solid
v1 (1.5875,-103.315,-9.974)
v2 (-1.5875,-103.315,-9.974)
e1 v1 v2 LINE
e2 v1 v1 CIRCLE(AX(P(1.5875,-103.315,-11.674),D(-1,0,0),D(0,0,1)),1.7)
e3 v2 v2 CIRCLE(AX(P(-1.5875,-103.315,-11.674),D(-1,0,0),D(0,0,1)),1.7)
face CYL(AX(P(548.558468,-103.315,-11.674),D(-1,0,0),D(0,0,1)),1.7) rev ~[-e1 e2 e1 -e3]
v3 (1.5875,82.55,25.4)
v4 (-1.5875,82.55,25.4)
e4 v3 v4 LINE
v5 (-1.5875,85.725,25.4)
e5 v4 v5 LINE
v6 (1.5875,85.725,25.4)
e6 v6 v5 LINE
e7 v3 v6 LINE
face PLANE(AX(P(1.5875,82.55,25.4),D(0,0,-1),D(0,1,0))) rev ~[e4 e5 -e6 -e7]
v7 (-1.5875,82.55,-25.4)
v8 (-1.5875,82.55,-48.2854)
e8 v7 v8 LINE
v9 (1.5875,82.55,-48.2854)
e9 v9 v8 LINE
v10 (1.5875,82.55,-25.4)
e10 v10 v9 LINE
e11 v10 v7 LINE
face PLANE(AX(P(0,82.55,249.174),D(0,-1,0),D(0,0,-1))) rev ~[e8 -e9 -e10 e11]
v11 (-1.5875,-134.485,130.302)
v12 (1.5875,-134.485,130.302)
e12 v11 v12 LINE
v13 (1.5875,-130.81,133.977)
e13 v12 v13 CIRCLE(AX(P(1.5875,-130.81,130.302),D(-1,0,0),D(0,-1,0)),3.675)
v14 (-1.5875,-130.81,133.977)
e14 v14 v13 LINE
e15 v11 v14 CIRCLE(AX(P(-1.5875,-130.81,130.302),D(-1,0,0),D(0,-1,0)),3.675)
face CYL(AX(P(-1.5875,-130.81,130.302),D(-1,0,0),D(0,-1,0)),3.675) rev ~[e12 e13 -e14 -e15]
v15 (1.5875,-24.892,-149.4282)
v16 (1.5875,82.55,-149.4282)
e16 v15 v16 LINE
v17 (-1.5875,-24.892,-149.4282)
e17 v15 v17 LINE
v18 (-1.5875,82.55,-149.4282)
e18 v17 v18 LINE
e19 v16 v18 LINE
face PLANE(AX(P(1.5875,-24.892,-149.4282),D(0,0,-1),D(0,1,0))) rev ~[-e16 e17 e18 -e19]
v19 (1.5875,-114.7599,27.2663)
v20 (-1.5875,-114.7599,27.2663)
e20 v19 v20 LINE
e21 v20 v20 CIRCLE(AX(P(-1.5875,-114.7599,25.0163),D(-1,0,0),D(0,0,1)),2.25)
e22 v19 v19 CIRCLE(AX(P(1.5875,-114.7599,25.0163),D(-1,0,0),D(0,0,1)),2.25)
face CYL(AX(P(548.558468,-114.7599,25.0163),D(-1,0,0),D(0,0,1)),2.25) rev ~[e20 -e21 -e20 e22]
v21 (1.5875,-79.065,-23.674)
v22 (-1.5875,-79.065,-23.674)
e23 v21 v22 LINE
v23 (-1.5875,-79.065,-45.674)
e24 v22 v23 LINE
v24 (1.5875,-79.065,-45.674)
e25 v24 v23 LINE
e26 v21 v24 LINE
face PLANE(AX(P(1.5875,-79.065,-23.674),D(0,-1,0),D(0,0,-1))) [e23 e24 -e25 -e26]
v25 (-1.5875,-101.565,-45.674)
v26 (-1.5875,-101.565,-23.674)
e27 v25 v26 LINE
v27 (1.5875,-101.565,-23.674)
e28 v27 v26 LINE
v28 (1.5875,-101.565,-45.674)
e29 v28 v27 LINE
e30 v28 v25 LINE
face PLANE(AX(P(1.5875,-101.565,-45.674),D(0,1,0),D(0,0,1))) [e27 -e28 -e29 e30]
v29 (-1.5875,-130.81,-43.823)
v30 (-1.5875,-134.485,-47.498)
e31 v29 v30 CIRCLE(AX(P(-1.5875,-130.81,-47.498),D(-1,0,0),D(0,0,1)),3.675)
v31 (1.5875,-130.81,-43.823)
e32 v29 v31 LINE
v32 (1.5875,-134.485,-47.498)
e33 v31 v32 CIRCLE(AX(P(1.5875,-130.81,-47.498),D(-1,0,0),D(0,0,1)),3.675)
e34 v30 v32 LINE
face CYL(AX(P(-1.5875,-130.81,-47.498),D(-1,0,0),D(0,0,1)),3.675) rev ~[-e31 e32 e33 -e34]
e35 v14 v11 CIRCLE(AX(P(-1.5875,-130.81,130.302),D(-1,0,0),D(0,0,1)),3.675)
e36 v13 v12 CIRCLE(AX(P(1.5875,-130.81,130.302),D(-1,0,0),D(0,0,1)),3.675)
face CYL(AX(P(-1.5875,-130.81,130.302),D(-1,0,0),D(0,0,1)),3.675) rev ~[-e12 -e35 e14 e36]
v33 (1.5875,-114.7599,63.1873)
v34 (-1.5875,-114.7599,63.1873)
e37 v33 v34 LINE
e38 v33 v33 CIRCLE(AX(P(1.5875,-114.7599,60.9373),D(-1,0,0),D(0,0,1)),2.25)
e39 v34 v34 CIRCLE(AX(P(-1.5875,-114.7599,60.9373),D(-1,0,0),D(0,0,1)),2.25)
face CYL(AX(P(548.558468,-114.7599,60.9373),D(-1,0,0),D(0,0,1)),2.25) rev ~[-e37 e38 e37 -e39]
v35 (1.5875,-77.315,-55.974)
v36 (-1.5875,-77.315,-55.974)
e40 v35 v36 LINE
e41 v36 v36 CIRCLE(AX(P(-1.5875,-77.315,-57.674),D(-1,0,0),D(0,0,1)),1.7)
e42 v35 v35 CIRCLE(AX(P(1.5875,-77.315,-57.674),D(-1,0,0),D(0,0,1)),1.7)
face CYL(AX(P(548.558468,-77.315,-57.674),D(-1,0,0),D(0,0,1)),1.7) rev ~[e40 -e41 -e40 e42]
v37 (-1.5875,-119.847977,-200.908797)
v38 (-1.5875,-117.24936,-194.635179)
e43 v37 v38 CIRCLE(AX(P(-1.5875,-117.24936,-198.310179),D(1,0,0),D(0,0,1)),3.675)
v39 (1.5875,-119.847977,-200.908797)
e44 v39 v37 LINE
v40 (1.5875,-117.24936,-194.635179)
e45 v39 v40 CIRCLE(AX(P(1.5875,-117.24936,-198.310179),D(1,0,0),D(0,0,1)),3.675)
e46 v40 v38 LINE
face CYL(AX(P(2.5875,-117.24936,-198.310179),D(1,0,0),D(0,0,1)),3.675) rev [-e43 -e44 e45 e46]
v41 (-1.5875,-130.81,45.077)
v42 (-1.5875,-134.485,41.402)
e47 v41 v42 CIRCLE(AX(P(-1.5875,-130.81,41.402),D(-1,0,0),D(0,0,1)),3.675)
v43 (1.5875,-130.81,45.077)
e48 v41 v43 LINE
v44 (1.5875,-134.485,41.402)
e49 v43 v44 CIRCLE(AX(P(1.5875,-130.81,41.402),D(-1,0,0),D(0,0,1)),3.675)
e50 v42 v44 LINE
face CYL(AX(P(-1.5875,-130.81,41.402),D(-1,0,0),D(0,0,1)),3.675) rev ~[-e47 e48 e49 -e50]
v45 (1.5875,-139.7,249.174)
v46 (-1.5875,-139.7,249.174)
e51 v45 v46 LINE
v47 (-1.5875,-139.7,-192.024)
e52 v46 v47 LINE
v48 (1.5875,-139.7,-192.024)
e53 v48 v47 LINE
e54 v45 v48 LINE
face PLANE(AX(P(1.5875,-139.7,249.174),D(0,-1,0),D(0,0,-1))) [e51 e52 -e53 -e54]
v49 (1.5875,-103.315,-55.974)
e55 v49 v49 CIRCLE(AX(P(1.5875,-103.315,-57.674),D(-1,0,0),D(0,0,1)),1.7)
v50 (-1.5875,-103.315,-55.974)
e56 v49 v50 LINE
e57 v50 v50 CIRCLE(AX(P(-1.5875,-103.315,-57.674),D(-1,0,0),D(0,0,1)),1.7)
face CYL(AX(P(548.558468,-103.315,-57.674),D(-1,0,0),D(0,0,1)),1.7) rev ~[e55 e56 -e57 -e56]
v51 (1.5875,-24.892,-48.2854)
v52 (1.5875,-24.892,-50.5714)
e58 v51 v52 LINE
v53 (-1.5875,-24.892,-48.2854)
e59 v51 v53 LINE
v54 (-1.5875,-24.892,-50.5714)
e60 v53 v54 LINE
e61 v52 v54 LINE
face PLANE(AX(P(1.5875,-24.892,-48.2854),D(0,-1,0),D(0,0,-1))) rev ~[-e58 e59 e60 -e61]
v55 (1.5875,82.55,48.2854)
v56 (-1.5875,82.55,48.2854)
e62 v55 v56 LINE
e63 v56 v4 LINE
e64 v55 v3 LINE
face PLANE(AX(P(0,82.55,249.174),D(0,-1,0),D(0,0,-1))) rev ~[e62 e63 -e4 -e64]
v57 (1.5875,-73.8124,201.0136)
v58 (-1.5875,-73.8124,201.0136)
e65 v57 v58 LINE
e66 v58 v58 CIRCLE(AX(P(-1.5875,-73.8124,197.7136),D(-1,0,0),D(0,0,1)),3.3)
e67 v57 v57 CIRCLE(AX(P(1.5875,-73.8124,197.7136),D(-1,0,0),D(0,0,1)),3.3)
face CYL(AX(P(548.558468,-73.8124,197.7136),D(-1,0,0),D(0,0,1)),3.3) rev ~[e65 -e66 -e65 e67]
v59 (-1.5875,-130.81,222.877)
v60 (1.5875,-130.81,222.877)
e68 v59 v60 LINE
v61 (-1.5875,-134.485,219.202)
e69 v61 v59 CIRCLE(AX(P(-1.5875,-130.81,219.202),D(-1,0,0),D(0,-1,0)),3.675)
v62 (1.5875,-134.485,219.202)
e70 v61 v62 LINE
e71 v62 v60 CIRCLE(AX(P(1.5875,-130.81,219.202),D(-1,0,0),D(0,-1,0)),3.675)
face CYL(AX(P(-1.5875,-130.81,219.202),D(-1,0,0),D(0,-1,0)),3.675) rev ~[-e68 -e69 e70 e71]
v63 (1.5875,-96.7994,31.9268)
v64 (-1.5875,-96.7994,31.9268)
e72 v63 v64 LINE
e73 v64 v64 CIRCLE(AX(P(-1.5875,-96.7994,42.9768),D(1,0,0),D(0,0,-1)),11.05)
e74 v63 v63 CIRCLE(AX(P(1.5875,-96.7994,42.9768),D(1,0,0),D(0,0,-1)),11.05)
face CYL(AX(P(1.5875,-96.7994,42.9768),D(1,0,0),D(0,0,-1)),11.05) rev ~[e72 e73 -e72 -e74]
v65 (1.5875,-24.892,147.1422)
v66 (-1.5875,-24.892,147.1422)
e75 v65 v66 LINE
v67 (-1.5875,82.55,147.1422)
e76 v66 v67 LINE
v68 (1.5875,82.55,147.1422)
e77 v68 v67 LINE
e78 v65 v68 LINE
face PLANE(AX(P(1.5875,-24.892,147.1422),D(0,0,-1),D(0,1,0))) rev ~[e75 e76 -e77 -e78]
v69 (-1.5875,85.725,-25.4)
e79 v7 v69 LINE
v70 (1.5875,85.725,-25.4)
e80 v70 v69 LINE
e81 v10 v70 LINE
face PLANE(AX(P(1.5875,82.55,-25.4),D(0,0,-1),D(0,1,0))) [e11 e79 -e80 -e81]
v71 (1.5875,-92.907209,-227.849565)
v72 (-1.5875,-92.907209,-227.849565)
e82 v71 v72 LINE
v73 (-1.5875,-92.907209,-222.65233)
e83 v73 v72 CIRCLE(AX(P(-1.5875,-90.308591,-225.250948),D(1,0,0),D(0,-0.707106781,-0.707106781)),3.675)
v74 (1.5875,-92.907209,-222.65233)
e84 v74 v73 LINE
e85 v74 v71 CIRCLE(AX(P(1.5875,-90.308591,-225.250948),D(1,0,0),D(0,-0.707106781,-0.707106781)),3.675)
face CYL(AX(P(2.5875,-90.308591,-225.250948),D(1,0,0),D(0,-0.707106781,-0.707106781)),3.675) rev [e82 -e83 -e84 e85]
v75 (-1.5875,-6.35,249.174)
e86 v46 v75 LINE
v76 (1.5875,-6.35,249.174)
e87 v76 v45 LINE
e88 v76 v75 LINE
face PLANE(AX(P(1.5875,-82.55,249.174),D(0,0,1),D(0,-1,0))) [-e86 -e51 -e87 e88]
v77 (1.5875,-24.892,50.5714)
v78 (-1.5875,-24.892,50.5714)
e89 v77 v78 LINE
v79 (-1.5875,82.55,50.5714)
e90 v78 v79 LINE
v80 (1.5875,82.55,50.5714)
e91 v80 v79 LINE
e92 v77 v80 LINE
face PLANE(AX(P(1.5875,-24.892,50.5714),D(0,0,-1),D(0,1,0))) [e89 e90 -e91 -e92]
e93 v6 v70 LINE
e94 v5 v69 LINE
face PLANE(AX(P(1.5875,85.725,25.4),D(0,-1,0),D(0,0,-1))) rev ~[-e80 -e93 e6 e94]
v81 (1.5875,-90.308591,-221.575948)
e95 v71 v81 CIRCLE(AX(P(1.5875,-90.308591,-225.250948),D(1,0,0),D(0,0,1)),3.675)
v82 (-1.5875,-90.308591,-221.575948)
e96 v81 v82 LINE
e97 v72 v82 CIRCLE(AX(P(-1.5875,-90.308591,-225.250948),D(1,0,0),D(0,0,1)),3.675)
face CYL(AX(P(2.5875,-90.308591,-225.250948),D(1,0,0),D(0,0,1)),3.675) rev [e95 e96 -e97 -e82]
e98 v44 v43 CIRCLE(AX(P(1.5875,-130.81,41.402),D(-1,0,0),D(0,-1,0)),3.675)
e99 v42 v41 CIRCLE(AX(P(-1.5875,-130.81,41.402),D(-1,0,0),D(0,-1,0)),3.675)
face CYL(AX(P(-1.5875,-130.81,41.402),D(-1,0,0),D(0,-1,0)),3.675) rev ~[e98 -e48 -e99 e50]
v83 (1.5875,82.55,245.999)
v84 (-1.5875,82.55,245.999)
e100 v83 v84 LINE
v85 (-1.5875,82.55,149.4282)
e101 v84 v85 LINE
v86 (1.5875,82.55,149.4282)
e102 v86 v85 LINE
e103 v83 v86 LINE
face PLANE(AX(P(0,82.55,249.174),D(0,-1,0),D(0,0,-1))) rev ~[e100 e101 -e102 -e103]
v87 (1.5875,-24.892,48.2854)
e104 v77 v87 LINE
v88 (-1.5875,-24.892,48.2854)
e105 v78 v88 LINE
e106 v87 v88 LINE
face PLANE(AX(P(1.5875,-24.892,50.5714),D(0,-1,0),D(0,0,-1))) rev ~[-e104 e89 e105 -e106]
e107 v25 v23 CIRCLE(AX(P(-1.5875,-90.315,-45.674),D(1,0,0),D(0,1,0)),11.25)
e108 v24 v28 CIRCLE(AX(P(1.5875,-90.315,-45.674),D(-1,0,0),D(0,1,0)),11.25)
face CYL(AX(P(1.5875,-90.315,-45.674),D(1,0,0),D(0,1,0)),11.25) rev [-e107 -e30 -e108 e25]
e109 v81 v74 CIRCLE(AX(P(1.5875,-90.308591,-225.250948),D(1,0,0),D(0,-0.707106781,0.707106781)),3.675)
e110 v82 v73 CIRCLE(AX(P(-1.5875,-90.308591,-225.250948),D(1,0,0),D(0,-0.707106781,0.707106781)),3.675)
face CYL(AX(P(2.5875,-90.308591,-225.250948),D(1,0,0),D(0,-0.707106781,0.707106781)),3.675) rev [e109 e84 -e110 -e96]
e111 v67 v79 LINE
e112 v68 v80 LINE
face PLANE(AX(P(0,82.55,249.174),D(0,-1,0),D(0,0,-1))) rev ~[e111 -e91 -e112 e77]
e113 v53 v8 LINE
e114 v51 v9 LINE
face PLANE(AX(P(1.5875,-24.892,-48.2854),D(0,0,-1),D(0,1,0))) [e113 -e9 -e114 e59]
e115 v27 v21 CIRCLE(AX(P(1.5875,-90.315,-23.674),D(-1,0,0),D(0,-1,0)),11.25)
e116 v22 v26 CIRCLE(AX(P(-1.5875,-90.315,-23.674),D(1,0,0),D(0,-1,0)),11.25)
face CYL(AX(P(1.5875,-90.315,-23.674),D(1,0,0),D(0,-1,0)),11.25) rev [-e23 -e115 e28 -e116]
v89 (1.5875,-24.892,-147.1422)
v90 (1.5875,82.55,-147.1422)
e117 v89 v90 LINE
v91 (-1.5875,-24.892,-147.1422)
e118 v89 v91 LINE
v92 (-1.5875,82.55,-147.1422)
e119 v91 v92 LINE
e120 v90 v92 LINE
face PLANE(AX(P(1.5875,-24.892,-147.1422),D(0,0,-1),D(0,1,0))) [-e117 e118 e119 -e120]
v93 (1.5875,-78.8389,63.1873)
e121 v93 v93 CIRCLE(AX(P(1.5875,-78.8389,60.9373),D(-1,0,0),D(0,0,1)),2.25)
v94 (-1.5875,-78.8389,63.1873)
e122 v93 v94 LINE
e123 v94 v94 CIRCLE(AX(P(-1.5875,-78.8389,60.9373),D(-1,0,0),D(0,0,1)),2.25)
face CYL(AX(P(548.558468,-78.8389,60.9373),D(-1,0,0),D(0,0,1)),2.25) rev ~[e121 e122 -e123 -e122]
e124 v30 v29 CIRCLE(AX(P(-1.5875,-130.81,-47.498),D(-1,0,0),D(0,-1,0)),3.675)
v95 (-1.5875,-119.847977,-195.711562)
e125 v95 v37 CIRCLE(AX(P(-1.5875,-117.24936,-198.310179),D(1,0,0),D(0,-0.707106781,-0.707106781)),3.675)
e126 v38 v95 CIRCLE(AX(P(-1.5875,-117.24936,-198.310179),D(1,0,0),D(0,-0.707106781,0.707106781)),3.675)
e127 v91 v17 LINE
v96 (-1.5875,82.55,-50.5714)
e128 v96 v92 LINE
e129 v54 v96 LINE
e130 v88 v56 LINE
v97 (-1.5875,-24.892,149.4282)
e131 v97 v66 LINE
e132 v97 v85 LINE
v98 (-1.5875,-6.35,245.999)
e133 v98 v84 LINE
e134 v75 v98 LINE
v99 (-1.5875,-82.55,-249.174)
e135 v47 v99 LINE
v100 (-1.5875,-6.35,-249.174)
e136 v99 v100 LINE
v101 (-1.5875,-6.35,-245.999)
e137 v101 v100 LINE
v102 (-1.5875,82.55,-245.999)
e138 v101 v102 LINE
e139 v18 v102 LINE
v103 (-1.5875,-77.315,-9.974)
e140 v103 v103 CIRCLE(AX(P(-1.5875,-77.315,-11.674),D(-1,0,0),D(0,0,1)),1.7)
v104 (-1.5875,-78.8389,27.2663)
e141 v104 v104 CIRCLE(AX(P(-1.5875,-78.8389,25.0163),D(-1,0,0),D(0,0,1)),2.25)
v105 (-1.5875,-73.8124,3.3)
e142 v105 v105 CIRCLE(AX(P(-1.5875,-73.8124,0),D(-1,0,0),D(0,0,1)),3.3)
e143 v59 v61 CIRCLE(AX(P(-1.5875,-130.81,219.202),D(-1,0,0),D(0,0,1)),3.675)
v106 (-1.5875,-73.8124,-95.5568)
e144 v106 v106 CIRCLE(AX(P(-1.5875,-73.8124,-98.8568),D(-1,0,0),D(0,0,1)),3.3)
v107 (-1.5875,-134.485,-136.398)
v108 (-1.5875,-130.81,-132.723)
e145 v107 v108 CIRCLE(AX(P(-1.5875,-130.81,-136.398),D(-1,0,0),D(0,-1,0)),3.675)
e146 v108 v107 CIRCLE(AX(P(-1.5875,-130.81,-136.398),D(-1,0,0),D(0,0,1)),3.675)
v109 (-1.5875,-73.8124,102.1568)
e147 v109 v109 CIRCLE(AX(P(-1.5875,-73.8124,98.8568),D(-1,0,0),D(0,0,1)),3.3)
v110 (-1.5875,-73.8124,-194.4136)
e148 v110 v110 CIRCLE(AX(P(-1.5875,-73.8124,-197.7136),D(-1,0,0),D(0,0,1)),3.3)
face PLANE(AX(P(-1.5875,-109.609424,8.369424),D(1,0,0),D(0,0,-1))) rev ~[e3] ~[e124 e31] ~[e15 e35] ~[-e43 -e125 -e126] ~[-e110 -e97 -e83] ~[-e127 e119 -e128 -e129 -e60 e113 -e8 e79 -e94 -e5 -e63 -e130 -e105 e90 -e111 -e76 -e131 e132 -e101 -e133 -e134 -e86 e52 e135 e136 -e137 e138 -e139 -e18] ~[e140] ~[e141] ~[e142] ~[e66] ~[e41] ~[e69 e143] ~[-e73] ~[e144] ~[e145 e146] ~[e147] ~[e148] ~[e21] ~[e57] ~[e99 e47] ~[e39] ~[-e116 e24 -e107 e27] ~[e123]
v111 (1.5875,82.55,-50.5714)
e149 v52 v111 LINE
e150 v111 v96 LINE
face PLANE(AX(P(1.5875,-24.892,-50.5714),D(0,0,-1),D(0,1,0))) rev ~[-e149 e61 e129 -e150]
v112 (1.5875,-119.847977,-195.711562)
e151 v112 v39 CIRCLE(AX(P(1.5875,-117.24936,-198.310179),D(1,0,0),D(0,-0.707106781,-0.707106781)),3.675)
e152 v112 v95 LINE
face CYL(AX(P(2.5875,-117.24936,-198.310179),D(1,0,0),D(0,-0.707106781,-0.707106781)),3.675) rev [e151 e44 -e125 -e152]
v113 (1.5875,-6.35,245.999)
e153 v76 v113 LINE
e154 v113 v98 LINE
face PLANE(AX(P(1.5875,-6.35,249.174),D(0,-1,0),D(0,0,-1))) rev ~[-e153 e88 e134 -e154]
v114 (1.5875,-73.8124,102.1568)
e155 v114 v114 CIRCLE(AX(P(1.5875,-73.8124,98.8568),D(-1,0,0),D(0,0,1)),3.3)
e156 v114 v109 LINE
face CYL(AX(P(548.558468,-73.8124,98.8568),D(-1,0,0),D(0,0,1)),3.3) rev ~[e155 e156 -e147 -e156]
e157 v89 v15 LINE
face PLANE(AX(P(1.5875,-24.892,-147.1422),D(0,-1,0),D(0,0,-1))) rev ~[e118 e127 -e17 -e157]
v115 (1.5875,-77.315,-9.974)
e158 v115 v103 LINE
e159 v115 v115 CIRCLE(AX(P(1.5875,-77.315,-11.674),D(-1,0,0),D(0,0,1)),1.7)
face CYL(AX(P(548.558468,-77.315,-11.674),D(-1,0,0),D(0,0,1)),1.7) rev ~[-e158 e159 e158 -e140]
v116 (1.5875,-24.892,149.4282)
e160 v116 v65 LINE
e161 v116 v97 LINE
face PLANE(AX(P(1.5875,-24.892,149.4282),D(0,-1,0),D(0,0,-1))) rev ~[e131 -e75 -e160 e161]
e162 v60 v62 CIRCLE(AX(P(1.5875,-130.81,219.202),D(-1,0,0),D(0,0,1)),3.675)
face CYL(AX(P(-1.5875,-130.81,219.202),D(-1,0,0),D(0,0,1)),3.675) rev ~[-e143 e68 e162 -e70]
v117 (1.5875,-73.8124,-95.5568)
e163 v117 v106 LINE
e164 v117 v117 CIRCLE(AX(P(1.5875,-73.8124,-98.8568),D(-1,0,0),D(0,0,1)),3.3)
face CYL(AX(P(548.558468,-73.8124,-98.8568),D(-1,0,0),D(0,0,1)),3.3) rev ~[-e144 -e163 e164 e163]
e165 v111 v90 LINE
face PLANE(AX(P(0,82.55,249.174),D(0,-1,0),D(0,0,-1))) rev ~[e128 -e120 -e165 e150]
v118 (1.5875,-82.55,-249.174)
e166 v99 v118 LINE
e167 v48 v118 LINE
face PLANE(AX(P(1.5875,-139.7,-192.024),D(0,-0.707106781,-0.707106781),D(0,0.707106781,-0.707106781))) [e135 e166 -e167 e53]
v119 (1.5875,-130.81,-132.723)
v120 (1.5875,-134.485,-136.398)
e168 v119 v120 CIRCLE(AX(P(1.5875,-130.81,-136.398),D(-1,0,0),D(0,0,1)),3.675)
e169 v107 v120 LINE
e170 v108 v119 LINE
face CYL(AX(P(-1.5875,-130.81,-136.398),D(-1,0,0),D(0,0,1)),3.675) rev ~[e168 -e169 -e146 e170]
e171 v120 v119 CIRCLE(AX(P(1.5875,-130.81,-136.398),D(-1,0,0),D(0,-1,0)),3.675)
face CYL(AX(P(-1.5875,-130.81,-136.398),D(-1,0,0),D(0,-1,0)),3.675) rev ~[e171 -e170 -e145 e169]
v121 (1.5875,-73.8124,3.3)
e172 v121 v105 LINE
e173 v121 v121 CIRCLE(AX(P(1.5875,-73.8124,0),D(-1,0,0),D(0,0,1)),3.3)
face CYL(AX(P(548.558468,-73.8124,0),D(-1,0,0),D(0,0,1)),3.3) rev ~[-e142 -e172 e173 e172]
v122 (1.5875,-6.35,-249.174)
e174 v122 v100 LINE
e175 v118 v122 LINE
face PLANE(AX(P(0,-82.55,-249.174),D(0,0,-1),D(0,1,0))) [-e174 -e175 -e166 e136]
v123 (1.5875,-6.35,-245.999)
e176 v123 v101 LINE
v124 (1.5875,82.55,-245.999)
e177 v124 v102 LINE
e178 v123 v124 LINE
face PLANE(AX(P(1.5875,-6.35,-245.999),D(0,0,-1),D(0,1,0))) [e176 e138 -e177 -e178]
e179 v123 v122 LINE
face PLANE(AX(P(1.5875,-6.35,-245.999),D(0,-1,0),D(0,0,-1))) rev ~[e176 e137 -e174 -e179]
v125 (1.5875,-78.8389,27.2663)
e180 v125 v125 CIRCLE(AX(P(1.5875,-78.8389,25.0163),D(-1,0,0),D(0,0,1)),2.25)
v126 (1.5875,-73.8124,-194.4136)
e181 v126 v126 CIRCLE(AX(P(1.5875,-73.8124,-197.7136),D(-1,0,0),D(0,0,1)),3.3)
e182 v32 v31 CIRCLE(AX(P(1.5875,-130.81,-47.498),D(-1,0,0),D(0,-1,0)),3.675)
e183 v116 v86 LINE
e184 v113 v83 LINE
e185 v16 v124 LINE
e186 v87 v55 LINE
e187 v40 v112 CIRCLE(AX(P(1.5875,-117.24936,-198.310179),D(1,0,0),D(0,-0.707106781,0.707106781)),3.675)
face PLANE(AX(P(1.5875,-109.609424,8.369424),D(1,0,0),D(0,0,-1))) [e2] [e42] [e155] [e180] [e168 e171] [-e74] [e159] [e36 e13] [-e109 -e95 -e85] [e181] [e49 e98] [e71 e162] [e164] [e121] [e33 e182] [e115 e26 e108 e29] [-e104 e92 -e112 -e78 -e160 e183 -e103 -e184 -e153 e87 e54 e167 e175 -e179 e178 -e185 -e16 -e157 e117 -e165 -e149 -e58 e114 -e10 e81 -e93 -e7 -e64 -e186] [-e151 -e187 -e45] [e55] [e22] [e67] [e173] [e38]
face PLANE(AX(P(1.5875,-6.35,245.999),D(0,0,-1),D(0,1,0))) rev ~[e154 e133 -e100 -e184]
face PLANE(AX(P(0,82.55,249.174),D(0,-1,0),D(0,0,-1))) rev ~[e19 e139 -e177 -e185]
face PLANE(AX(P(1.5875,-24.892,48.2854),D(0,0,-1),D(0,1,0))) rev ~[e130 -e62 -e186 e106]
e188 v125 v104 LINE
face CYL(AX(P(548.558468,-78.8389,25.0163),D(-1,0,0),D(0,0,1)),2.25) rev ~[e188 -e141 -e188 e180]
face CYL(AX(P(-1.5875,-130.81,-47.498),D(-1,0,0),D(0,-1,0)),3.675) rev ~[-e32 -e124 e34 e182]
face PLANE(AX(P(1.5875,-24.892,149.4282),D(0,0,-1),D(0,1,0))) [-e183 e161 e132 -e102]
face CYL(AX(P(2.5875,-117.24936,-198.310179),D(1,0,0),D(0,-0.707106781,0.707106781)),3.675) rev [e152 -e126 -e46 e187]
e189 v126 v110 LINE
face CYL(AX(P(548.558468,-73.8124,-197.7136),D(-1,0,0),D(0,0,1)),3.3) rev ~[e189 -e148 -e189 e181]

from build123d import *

# Parameters (mm, degrees)
SKETCH1_W            = 498.348
SKETCH1_H            = 165.1
BOSS_EXTRUDE1_DEPTH  = 1.5875
BOSS_EXTRUDE2_DEPTH  = 3.175
CUT_EXTRUDE1_DEPTH   = 4.175
LPATTERN1_COUNT      = 5
LPATTERN1_PITCH      = 88.9
CUT_EXTRUDE2_START   = -4.175
CUT_EXTRUDE2_DEPTH   = 5.175
LPATTERN2_COUNT      = 2
LPATTERN2_PITCH      = 38.1
SKETCH5_W            = 3.175
SKETCH5_H            = 88.9
CUT_EXTRUDE3_DEPTH   = 4.175
SKETCH6_W            = 2.286
SKETCH6_H            = 107.442
CUT_EXTRUDE4_DEPTH   = 4.175
LPATTERN3_COUNT      = 4
LPATTERN3_PITCH      = 98.8568
SKETCH8_W            = 50.8
SKETCH8_H            = 3.175
BOSS_EXTRUDE3_DEPTH  = 3.175
SKETCH9_R            = 11.05
CUT_EXTRUDE5_DEPTH   = 4.175
M6_CLEARANCE_HOLE1_D = 6.6
LPATTERN4_COUNT      = 3
LPATTERN4_PITCH      = 98.8568
LPATTERN4_COL_COUNT  = 3
LPATTERN4_COL_PITCH  = 98.8568
M3_CLEARANCE_HOLE1_D = 3.4
M4_CLEARANCE_HOLE1_D = 4.5
CUT_EXTRUDE6_DEPTH   = 4.175


with BuildPart() as part:
    # Sketch1 → Boss-Extrude1 (new body, symmetric)
    with BuildSketch(Plane(origin=(0, 0, 0), x_dir=(0, 0, -1), z_dir=(1, 0, 0))):
        Rectangle(SKETCH1_W, SKETCH1_H)
    extrude(amount=BOSS_EXTRUDE1_DEPTH, both=True)

    # Sketch2 → Boss-Extrude2 (add)
    with BuildSketch(Plane(origin=(1.5875, 0, 0), x_dir=(0, 0, -1), z_dir=(1, 0, 0))):
        Polygon((192.024, -139.7), (249.174, -82.55), (-249.174, -82.55), (-249.174, -139.7), align=None)
    extrude(amount=-BOSS_EXTRUDE2_DEPTH)

    # Sketch3 → Cut-Extrude1 (cut, through all)
    with BuildSketch(Plane.ZY.offset(1.5875)):
        with BuildLine():
            ThreePointArc((222.877, -130.81), (216.603382579, -128.211382579), (219.202, -134.485))
            Line((219.202, -134.485), (219.202, -130.81))
            Line((219.202, -130.81), (222.877, -130.81))
        make_face()
        with BuildLine():
            Line((219.202, -130.81), (219.202, -134.485))
            ThreePointArc((219.202, -134.485), (221.800617421, -133.408617421), (222.877, -130.81))
            Line((222.877, -130.81), (219.202, -130.81))
        make_face()
    cut_extrude1 = extrude(amount=-CUT_EXTRUDE1_DEPTH, mode=Mode.SUBTRACT)

    # LPattern1: Cut-Extrude1 ×5
    with Locations(*[(0, 0, -i * LPATTERN1_PITCH) for i in range(1, LPATTERN1_COUNT)]):
        add(cut_extrude1, mode=Mode.SUBTRACT)

    # Sketch4 → Cut-Extrude2 (cut)
    with BuildSketch(Plane.ZY.offset(1.5875).offset(CUT_EXTRUDE2_START)):
        with BuildLine():
            ThreePointArc((-194.635179285, -117.249359697), (-199.716540899, -113.854102415), (-200.908796706, -119.847977118))
            Line((-200.908796706, -119.847977118), (-198.310179285, -117.249359697))
            Line((-198.310179285, -117.249359697), (-195.711561864, -119.847977118))
            ThreePointArc((-195.711561864, -119.847977118), (-194.914922003, -118.655721311), (-194.635179285, -117.249359697))
        make_face()
        with BuildLine():
            Line((-198.310179285, -117.249359697), (-200.908796706, -119.847977118))
            ThreePointArc((-200.908796706, -119.847977118), (-198.310179285, -120.924359697), (-195.711561864, -119.847977118))
            Line((-195.711561864, -119.847977118), (-198.310179285, -117.249359697))
        make_face()
    cut_extrude2 = extrude(amount=CUT_EXTRUDE2_DEPTH, mode=Mode.SUBTRACT)

    # LPattern2: Cut-Extrude2 ×2
    with Locations(*[Vector(0, 0.707106781, -0.707106781) * (i * LPATTERN2_PITCH) for i in range(1, LPATTERN2_COUNT)]):
        add(cut_extrude2, mode=Mode.SUBTRACT)

    # Sketch5 → Cut-Extrude3 (cut, through all)
    with BuildSketch(Plane(origin=(1.5875, 0, 0), x_dir=(0, 0, -1), z_dir=(1, 0, 0))):
        with Locations((247.5865, 38.1)):
            Rectangle(SKETCH5_W, SKETCH5_H)
        with Locations((-247.5865, 38.1)):
            Rectangle(SKETCH5_W, SKETCH5_H)
    extrude(amount=-CUT_EXTRUDE3_DEPTH, mode=Mode.SUBTRACT)

    # Sketch6 → Cut-Extrude4 (cut, through all)
    with BuildSketch(Plane(origin=(1.5875, 0, 0), x_dir=(0, 0, -1), z_dir=(1, 0, 0))):
        with Locations((148.2852, 28.829)):
            Rectangle(SKETCH6_W, SKETCH6_H)
    cut_extrude4 = extrude(amount=-CUT_EXTRUDE4_DEPTH, mode=Mode.SUBTRACT)

    # LPattern3: Cut-Extrude4 ×4
    with Locations(*[(0, 0, i * LPATTERN3_PITCH) for i in range(1, LPATTERN3_COUNT)]):
        add(cut_extrude4, mode=Mode.SUBTRACT)

    # Sketch8 → Boss-Extrude3 (add)
    with BuildSketch(Plane(origin=(1.5875, 0, 0), x_dir=(0, 0, -1), z_dir=(1, 0, 0))):
        with Locations((0, 84.1375)):
            Rectangle(SKETCH8_W, SKETCH8_H)
    extrude(amount=-BOSS_EXTRUDE3_DEPTH)

    # Sketch9 → Cut-Extrude5 (cut, through all)
    with BuildSketch(Plane(origin=(1.5875, 0, 0), x_dir=(0, 0, -1), z_dir=(1, 0, 0))):
        with Locations((-42.9768, -96.7994)):
            Circle(SKETCH9_R)
    extrude(amount=-CUT_EXTRUDE5_DEPTH, mode=Mode.SUBTRACT)

    # M6 Clearance Hole1 (through all)
    with Locations(Plane(origin=(1.5875, 0, 0), x_dir=(0, 0, -1), z_dir=(1, 0, 0))):
        with Locations((0, -73.8124)):
            m6_clearance_hole1 = Hole(M6_CLEARANCE_HOLE1_D / 2)

    # LPattern4: M6 Clearance Hole1 ×3
    with Locations(*[(0, 0, i * LPATTERN4_PITCH) for i in range(1, LPATTERN4_COUNT)]):
        add(m6_clearance_hole1, mode=Mode.SUBTRACT)

    # LPattern4 col: M6 Clearance Hole1 ×3
    with Locations(*[(0, 0, -i * LPATTERN4_COL_PITCH) for i in range(1, LPATTERN4_COL_COUNT)]):
        add(m6_clearance_hole1, mode=Mode.SUBTRACT)

    # M3 Clearance Hole1 (through all)
    with Locations(Plane(origin=(1.5875, 0, 0), x_dir=(0, 0, -1), z_dir=(1, 0, 0))):
        with Locations((11.674, -77.315), (11.674, -103.315), (57.674, -103.315), (57.674, -77.315)):
            Hole(M3_CLEARANCE_HOLE1_D / 2)

    # M4 Clearance Hole1 (through all)
    with Locations(Plane(origin=(1.5875, 0, 0), x_dir=(0, 0, -1), z_dir=(1, 0, 0))):
        with Locations((-25.0163, -78.8389), (-60.9373, -78.8389), (-60.9373, -114.7599), (-25.0163, -114.7599)):
            Hole(M4_CLEARANCE_HOLE1_D / 2)

    # Sketch14 → Cut-Extrude6 (cut, through all)
    with BuildSketch(Plane(origin=(1.5875, 0, 0), x_dir=(0, 0, -1), z_dir=(1, 0, 0))):
        with BuildLine():
            Line((45.674, -101.565), (23.674, -101.565))
            ThreePointArc((23.674, -101.565), (12.424, -90.315), (23.674, -79.065))
            Line((23.674, -79.065), (45.674, -79.065))
            ThreePointArc((45.674, -79.065), (56.924, -90.315), (45.674, -101.565))
        make_face()
    extrude(amount=-CUT_EXTRUDE6_DEPTH, mode=Mode.SUBTRACT)


solid = part.part
